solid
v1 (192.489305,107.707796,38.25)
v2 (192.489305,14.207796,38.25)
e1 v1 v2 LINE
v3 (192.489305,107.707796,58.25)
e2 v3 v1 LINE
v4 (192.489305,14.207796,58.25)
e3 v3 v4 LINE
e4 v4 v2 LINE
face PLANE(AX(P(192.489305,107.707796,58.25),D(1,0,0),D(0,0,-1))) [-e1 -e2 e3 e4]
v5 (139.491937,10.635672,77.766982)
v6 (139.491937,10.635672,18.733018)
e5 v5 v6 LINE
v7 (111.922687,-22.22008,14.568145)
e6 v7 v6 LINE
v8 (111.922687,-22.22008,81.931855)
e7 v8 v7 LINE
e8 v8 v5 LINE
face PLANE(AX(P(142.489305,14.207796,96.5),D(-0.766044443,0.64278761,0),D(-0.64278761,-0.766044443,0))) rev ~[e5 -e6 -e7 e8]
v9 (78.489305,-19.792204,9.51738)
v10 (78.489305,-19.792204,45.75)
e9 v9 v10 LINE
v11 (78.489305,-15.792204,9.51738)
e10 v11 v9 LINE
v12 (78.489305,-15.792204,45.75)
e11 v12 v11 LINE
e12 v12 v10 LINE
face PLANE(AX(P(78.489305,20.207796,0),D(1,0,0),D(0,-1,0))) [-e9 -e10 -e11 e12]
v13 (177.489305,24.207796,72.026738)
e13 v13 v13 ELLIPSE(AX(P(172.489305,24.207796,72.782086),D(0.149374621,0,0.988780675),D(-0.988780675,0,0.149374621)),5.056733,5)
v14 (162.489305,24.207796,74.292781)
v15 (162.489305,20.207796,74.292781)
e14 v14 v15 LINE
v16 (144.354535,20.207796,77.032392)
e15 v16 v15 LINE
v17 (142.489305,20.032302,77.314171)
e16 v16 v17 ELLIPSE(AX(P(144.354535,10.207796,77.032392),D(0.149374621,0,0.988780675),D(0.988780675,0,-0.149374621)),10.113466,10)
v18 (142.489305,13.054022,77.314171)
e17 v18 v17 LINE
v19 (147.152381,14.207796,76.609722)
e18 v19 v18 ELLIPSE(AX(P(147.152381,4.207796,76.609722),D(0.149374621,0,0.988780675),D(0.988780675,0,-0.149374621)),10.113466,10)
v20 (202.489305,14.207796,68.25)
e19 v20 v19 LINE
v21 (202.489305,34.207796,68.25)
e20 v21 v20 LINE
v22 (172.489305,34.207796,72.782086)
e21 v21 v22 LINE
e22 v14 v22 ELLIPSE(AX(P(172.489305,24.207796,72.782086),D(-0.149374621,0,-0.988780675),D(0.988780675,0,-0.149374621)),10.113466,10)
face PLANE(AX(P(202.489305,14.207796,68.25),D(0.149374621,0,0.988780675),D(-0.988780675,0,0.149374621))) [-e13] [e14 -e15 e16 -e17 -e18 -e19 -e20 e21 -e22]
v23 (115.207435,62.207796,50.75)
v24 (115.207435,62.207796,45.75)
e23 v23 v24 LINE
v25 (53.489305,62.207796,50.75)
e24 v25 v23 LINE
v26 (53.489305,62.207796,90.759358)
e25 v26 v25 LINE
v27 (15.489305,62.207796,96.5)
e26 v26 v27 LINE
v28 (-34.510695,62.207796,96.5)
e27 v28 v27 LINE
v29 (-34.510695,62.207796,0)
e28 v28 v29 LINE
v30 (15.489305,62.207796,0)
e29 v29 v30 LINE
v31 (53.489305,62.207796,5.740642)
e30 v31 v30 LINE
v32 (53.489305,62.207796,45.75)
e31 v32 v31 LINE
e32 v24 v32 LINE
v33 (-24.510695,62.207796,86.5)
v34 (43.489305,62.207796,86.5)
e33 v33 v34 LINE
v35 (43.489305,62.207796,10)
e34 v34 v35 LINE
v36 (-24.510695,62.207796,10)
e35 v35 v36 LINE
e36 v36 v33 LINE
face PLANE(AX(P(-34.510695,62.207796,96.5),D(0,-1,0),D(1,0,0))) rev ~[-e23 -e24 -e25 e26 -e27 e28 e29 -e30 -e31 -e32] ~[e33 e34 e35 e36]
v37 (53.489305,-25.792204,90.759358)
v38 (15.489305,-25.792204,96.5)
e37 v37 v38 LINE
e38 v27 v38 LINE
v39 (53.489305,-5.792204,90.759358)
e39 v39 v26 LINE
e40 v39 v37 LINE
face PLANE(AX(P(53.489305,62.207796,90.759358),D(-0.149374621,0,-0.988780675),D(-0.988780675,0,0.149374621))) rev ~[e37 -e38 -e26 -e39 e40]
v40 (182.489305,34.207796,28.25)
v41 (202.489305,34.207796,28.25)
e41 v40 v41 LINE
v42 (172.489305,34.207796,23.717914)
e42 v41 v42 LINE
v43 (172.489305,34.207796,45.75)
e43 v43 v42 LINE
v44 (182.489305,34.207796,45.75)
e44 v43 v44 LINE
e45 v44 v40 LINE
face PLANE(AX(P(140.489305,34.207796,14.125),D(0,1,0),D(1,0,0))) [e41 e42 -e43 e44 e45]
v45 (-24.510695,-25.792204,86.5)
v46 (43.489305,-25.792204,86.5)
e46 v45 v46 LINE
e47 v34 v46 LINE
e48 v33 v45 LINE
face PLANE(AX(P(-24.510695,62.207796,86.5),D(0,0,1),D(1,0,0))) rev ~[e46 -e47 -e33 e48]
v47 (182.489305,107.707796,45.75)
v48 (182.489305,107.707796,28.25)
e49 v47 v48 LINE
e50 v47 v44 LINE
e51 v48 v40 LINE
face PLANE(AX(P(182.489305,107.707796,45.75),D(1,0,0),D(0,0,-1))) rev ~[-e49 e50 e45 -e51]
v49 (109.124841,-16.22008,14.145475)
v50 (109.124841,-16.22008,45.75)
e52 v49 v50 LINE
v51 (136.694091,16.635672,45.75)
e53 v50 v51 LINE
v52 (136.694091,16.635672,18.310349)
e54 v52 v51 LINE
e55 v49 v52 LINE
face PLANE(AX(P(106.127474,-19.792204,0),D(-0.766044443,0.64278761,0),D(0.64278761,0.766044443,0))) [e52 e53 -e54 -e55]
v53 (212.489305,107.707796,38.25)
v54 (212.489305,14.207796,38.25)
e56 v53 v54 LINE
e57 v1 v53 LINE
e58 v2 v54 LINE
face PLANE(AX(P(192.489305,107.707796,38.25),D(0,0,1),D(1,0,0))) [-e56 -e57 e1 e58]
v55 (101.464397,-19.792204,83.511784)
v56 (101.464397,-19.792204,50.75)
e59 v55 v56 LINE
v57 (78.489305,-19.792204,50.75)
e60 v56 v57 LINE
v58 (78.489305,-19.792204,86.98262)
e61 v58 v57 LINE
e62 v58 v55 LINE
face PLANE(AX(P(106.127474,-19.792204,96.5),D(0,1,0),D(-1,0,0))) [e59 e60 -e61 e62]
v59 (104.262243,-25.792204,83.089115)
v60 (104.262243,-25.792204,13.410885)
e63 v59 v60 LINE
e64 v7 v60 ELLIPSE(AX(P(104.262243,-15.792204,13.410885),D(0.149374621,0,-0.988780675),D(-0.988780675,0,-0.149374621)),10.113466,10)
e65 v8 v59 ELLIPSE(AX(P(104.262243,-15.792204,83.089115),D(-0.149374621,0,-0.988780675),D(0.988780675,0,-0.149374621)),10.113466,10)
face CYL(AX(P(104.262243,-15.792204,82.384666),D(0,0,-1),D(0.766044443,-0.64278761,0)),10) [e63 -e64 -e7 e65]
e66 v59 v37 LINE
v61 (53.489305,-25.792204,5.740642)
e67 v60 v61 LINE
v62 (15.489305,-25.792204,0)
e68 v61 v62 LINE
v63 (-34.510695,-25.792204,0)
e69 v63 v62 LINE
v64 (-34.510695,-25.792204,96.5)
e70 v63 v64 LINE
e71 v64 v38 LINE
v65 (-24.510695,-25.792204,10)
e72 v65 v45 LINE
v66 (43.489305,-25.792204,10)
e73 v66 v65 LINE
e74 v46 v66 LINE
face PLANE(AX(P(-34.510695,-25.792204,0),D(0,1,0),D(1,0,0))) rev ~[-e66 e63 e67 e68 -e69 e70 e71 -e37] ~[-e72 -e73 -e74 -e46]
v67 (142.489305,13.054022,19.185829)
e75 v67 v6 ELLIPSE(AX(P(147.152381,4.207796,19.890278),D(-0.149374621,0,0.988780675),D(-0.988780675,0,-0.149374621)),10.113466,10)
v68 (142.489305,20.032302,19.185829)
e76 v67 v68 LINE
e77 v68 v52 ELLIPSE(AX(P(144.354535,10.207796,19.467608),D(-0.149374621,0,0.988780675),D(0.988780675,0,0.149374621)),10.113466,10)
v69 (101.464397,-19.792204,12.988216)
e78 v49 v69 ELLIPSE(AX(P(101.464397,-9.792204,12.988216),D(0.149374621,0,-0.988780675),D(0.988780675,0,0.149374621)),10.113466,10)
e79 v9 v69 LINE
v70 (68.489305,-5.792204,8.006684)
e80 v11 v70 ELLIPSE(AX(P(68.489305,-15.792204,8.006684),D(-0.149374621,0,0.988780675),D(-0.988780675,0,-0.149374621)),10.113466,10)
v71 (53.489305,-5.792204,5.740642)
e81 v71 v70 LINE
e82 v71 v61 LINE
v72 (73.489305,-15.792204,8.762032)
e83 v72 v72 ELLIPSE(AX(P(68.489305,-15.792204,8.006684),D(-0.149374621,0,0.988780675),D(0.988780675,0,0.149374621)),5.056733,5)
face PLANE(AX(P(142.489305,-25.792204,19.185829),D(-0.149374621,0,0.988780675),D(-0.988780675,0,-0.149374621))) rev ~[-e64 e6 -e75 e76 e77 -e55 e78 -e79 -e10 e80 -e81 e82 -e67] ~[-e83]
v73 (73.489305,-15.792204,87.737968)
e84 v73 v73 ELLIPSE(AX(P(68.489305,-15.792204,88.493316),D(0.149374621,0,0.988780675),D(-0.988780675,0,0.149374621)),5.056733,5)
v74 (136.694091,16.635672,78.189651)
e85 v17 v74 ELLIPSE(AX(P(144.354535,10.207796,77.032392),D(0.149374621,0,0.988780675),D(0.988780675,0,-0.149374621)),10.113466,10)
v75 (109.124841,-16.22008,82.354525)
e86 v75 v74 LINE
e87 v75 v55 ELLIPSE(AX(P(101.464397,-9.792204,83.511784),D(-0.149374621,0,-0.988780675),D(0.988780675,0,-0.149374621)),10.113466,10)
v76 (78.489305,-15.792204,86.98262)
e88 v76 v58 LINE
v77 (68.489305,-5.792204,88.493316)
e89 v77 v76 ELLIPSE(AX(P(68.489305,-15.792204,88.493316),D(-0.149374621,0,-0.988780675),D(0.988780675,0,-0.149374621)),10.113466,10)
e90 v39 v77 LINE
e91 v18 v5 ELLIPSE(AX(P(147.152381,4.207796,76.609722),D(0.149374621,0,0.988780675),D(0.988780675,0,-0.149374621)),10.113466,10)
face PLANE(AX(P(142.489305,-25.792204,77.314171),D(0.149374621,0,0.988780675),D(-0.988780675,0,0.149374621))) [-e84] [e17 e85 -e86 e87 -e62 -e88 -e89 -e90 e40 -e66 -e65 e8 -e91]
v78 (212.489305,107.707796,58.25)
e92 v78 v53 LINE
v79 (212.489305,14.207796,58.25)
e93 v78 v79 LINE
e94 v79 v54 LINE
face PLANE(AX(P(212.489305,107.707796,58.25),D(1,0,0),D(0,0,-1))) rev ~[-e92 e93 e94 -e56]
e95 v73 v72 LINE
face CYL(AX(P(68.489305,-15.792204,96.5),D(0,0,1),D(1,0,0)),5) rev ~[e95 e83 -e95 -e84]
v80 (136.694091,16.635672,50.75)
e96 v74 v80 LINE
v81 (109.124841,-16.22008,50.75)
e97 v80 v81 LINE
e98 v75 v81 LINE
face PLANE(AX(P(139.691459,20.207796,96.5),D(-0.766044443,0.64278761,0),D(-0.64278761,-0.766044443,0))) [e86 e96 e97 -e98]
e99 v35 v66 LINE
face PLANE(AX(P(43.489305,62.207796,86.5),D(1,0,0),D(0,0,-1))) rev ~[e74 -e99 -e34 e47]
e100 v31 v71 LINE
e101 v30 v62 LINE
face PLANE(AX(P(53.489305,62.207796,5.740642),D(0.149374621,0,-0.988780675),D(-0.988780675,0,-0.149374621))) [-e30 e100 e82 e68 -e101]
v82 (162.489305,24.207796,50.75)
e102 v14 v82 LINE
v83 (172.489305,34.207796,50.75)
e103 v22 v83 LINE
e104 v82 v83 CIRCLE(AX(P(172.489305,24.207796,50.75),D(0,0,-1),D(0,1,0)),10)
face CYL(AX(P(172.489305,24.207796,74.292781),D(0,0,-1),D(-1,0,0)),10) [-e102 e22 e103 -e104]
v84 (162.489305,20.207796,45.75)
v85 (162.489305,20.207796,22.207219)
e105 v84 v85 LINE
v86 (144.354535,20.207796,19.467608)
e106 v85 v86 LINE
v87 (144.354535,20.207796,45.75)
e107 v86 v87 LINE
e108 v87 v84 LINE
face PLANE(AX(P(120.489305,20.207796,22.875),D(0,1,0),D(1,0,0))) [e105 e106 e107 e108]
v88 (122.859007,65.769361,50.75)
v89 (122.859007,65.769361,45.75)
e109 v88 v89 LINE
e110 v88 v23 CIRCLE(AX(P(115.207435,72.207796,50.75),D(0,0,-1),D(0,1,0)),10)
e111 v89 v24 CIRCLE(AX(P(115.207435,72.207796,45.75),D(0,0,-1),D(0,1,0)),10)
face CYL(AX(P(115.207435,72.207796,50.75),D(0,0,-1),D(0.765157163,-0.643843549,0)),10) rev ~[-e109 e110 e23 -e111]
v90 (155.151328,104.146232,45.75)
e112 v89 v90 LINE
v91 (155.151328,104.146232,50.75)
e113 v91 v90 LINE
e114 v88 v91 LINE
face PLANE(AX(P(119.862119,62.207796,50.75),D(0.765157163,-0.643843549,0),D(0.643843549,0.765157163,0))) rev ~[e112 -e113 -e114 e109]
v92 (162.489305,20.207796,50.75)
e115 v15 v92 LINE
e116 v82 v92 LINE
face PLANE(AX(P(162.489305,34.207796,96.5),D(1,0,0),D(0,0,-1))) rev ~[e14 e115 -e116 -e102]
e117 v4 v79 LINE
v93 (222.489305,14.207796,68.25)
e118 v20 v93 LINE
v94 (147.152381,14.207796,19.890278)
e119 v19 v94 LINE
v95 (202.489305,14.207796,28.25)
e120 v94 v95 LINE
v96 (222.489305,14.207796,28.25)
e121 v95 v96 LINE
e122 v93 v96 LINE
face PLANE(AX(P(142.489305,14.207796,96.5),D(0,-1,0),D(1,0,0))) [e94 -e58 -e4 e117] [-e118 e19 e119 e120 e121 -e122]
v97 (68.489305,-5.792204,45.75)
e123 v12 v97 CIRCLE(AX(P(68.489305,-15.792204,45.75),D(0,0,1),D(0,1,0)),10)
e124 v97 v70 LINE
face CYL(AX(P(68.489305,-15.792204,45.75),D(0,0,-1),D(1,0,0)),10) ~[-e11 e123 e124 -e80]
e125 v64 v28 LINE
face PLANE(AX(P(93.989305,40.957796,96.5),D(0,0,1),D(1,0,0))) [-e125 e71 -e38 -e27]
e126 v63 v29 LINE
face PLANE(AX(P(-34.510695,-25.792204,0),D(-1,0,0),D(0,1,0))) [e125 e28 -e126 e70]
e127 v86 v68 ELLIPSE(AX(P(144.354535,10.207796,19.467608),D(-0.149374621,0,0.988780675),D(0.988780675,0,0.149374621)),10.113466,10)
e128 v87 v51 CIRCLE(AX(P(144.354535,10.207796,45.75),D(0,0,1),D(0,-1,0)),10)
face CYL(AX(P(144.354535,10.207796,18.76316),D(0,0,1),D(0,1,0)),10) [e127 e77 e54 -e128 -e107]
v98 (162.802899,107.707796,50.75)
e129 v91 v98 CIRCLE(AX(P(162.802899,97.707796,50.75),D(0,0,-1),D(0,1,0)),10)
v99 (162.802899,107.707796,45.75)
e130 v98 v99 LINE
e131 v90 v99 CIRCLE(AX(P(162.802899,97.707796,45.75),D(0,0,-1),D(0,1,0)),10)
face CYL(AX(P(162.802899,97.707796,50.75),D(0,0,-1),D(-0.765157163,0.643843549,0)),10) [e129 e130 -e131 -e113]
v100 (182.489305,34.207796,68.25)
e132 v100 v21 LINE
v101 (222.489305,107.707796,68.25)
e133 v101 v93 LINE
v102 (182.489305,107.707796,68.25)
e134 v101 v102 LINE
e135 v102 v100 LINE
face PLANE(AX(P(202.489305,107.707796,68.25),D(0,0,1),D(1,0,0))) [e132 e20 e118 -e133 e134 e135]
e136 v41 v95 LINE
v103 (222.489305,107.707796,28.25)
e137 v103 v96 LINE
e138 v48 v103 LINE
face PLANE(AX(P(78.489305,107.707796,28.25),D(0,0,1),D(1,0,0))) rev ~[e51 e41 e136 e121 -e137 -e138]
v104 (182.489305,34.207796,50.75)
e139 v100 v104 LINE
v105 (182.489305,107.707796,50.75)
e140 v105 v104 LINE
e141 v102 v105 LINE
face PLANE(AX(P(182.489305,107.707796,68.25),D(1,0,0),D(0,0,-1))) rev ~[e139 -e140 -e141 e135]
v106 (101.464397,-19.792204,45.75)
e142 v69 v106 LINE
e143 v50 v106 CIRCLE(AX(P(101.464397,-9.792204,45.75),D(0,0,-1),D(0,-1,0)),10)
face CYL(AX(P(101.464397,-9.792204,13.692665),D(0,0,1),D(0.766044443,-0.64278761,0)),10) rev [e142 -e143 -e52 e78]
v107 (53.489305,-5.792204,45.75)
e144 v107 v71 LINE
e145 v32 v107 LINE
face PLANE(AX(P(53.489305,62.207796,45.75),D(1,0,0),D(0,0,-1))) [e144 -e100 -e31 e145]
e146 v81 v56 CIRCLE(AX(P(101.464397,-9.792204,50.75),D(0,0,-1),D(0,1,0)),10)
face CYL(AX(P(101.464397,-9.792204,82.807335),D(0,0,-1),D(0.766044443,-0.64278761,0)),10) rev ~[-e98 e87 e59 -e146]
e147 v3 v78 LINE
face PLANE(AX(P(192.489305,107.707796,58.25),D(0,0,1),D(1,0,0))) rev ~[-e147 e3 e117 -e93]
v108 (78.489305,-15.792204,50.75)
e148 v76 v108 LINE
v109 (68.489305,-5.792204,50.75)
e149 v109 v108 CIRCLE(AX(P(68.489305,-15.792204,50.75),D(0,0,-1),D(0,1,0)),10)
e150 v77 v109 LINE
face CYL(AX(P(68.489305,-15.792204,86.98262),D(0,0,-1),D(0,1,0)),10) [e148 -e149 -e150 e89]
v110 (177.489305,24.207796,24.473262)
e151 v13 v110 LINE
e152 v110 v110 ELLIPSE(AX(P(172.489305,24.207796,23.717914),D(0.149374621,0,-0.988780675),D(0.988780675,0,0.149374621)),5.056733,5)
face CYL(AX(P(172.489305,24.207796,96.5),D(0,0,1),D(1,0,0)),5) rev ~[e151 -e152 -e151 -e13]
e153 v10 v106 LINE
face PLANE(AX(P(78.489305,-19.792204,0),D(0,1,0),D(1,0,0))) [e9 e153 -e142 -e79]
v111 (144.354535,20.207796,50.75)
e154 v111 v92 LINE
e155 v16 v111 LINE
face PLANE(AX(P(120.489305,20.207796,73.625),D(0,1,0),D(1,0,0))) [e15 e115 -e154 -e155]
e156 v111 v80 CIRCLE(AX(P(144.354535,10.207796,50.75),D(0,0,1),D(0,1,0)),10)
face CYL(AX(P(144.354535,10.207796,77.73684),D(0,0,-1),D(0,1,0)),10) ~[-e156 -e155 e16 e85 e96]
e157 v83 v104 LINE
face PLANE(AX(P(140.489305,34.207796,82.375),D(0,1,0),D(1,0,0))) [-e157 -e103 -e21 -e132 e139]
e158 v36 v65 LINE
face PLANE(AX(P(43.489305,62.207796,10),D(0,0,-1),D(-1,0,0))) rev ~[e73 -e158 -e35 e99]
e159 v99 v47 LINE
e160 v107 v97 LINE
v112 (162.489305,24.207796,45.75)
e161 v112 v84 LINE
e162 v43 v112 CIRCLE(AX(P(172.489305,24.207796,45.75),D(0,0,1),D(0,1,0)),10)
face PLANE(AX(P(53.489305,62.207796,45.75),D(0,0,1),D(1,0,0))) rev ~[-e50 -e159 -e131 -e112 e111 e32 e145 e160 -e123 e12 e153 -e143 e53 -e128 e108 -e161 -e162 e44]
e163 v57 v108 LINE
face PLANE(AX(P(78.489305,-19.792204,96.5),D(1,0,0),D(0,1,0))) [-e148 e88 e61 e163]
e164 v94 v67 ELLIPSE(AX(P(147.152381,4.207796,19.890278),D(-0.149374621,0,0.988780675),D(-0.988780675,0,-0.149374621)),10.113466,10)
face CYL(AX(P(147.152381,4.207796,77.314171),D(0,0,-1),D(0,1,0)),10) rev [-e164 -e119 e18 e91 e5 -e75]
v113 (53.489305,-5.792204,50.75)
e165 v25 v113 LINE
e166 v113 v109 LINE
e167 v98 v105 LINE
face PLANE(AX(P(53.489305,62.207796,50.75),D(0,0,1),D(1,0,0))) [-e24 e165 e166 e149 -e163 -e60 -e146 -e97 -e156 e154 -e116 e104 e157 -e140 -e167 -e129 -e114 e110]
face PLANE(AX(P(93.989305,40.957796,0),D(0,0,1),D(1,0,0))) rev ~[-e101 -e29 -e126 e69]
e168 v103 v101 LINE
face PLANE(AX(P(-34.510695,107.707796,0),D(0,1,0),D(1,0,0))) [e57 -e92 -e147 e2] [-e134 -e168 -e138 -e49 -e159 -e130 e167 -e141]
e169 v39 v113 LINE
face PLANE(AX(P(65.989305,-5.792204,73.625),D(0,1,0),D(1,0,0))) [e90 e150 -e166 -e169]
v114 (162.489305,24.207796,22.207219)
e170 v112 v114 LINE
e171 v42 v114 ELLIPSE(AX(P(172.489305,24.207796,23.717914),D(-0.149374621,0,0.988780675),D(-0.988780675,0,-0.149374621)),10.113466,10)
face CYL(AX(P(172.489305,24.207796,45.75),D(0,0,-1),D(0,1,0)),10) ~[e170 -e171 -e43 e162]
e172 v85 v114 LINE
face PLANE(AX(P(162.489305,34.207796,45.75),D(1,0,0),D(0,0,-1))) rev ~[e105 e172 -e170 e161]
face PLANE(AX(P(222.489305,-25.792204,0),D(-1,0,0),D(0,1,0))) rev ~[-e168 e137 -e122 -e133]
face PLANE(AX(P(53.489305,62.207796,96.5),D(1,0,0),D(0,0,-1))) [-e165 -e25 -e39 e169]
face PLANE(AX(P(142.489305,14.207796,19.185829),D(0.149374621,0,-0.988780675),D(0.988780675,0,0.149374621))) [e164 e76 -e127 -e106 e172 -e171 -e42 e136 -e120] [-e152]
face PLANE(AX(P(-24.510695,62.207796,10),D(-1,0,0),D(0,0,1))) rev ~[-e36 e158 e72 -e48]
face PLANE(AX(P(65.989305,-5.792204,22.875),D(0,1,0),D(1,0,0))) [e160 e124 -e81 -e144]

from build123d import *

# Parameters (mm, degrees)
SKETCH1_W           = 257
SKETCH1_H           = 133.5
BOSS_EXTRUDE1_DEPTH = 96.5
SKETCH2_W           = 113
SKETCH2_H           = 45.5
SKETCH2_W_2         = 80
SKETCH2_H_2         = 40
CUT_EXTRUDE1_DEPTH  = 96.5
CUT_EXTRUDE2_DEPTH  = 88
SKETCH6_W           = 20
SKETCH6_H           = 28.25
CUT_EXTRUDE3_DEPTH  = 93.5
SKETCH7_W           = 124
SKETCH7_H           = 28.25
CUT_EXTRUDE4_DEPTH  = 73.5
SKETCH8_W           = 104
SKETCH8_H           = 17.5
CUT_EXTRUDE5_DEPTH  = 73.5
SKETCH9_W           = 25
SKETCH9_H           = 45.75
CUT_EXTRUDE6_DEPTH  = 68
SKETCH11_W          = 84
SKETCH11_H          = 45.75
CUT_EXTRUDE7_DEPTH  = 14
SKETCH12_W          = 84
SKETCH12_H          = 45.75
CUT_EXTRUDE8_DEPTH  = 14
CUT_EXTRUDE10_DEPTH = 45.75
CUT_EXTRUDE11_DEPTH = 96.5
CUT_EXTRUDE12_DEPTH = 45.75
CUT_EXTRUDE13_DEPTH = 5
SKETCH18_R          = 5
CUT_EXTRUDE14_DEPTH = 96.5
SKETCH19_W          = 20
SKETCH19_H          = 20
CUT_EXTRUDE15_DEPTH = 93.5
CUT_EXTRUDE42_DEPTH = 88
CUT_EXTRUDE53_DEPTH = 20
CUT_EXTRUDE61_DEPTH = 50.68
CUT_EXTRUDE62_DEPTH = 88
CUT_EXTRUDE63_DEPTH = 88
CUT_EXTRUDE64_DEPTH = 88
FILLET2_R           = 10
FILLET3_R           = 10
FILLET4_R           = 10
FILLET5_R           = 10
FILLET6_R           = 10
FILLET7_R           = 10
FILLET8_R           = 10
FILLET9_R           = 10
FILLET10_R          = 10
FILLET11_R          = 10
FILLET12_R          = 10
FILLET13_R          = 10


with BuildPart() as part:
    # Sketch1 → Boss-Extrude1 (new body)
    with BuildSketch(Plane.XY):
        with Locations((93.989304803, 40.957796221)):
            Rectangle(SKETCH1_W, SKETCH1_H)
    extrude(amount=BOSS_EXTRUDE1_DEPTH)

    # Sketch2 → Cut-Extrude1 (cut)
    with BuildSketch(Plane.XY.offset(96.5)):
        with Locations((21.989304803, 84.957796221)):
            Rectangle(SKETCH2_W, SKETCH2_H)
        with Locations((182.489304803, -5.792203779)):
            Rectangle(SKETCH2_W_2, SKETCH2_H_2)
    extrude(amount=-CUT_EXTRUDE1_DEPTH, mode=Mode.SUBTRACT)

    # Sketch4 → Cut-Extrude2 (cut)
    with BuildSketch(Plane(origin=(0, 62.207796221, 0), x_dir=(1, 0, 0), z_dir=(0, 1, 0))):
        Polygon((-24.510695197, -10), (-24.510695197, -48.25), (-24.510695197, -86.5), (43.489304803, -86.5), (43.489304803, -48.25), (43.489304803, -10), align=None)
    extrude(amount=-CUT_EXTRUDE2_DEPTH, mode=Mode.SUBTRACT)

    # Sketch6 → Cut-Extrude3 (cut)
    with BuildSketch(Plane(origin=(0, 107.707796221, 0), x_dir=(1, 0, 0), z_dir=(0, 1, 0))):
        with Locations((212.489304803, -14.125)):
            Rectangle(SKETCH6_W, SKETCH6_H)
        with Locations((212.489304803, -82.375)):
            Rectangle(SKETCH6_W, SKETCH6_H)
    extrude(amount=-CUT_EXTRUDE3_DEPTH, mode=Mode.SUBTRACT)

    # Sketch7 → Cut-Extrude4 (cut)
    with BuildSketch(Plane(origin=(0, 107.707796221, 0), x_dir=(1, 0, 0), z_dir=(0, 1, 0))):
        with Locations((140.489304803, -14.125)):
            Rectangle(SKETCH7_W, SKETCH7_H)
        with Locations((140.489304803, -82.375)):
            Rectangle(SKETCH7_W, SKETCH7_H)
    extrude(amount=-CUT_EXTRUDE4_DEPTH, mode=Mode.SUBTRACT)

    # Sketch8 → Cut-Extrude5 (cut)
    with BuildSketch(Plane(origin=(0, 107.707796221, 0), x_dir=(1, 0, 0), z_dir=(0, 1, 0))):
        with Locations((130.489304803, -37)):
            Rectangle(SKETCH8_W, SKETCH8_H)
        with Locations((130.489304803, -59.5)):
            Rectangle(SKETCH8_W, SKETCH8_H)
    extrude(amount=-CUT_EXTRUDE5_DEPTH, mode=Mode.SUBTRACT)

    # Sketch9 → Cut-Extrude6 (cut)
    with BuildSketch(Plane(origin=(0, 62.207796221, 0), x_dir=(1, 0, 0), z_dir=(0, 1, 0))):
        with Locations((65.989304803, -73.625)):
            Rectangle(SKETCH9_W, SKETCH9_H)
        with Locations((65.989304803, -22.875)):
            Rectangle(SKETCH9_W, SKETCH9_H)
    extrude(amount=-CUT_EXTRUDE6_DEPTH, mode=Mode.SUBTRACT)

    # Sketch11 → Cut-Extrude7 (cut)
    with BuildSketch(Plane(origin=(0, 34.207796221, 0), x_dir=(1, 0, 0), z_dir=(0, 1, 0))):
        with Locations((120.489304803, -73.625)):
            Rectangle(SKETCH11_W, SKETCH11_H)
    extrude(amount=-CUT_EXTRUDE7_DEPTH, mode=Mode.SUBTRACT)

    # Sketch12 → Cut-Extrude8 (cut)
    with BuildSketch(Plane(origin=(0, 34.207796221, 0), x_dir=(1, 0, 0), z_dir=(0, 1, 0))):
        with Locations((120.489304803, -22.875)):
            Rectangle(SKETCH12_W, SKETCH12_H)
    extrude(amount=-CUT_EXTRUDE8_DEPTH, mode=Mode.SUBTRACT)

    # Sketch13 → Cut-Extrude10 (cut)
    with BuildSketch(Plane.XY.offset(96.5)):
        Polygon((139.691458854, 20.207796221), (106.127473607, -19.792203779), (78.489304803, -19.792203779), (78.489304803, 20.207796221), align=None)
    extrude(amount=-CUT_EXTRUDE10_DEPTH, mode=Mode.SUBTRACT)

    # Sketch15 → Cut-Extrude11 (cut)
    with BuildSketch(Plane.XY.offset(96.5)):
        Polygon((142.489304803, 14.207796221), (108.925319556, -25.792203779), (142.489304803, -25.792203779), align=None)
    extrude(amount=-CUT_EXTRUDE11_DEPTH, mode=Mode.SUBTRACT)

    # Sketch16 → Cut-Extrude12 (cut)
    with BuildSketch(Plane(origin=(0, 0, 0), x_dir=(-1, 0, 0), z_dir=(0, 0, -1))):
        Polygon((-78.489304803, -19.792203779), (-106.127473607, -19.792203779), (-139.691458854, 20.207796221), (-78.489304803, 20.207796221), align=None)
    extrude(amount=-CUT_EXTRUDE12_DEPTH, mode=Mode.SUBTRACT)

    # Sketch17 → Cut-Extrude13 (cut)
    with BuildSketch(Plane.XY.offset(50.75)):
        Polygon((78.489304803, 62.207796221), (119.862118509, 62.207796221), (158.148215693, 107.707796221), (78.489304803, 107.707796221), align=None)
    extrude(amount=-CUT_EXTRUDE13_DEPTH, mode=Mode.SUBTRACT)

    # Sketch18 → Cut-Extrude14 (cut)
    with BuildSketch(Plane.XY.offset(96.5)):
        with Locations((172.489304803, 24.207796221)):
            Circle(SKETCH18_R)
        with Locations((68.489304803, -15.792203779)):
            Circle(SKETCH18_R)
    extrude(amount=-CUT_EXTRUDE14_DEPTH, mode=Mode.SUBTRACT)

    # Sketch19 → Cut-Extrude15 (cut)
    with BuildSketch(Plane(origin=(0, 107.707796221, 0), x_dir=(1, 0, 0), z_dir=(0, 1, 0))):
        with Locations((202.489304803, -48.25)):
            Rectangle(SKETCH19_W, SKETCH19_H)
    extrude(amount=-CUT_EXTRUDE15_DEPTH, mode=Mode.SUBTRACT)

    # Sketch51 → Cut-Extrude42 (cut)
    with BuildSketch(Plane(origin=(0, 62.207796221, 0), x_dir=(1, 0, 0), z_dir=(0, 1, 0))):
        Polygon((15.489304803, -96.5), (53.489304803, -96.5), (53.489304803, -90.759358289), align=None)
    extrude(amount=-CUT_EXTRUDE42_DEPTH, mode=Mode.SUBTRACT)

    # Sketch62 → Cut-Extrude53 (cut)
    with BuildSketch(Plane.XZ.offset(-14.207796221)):
        Polygon((142.489304803, 96.5), (202.489304803, 96.5), (202.489304803, 68.25), (142.489304803, 77.314171123), align=None)
    extrude(amount=-CUT_EXTRUDE53_DEPTH, mode=Mode.SUBTRACT)

    # Sketch75 → Cut-Extrude61 (cut)
    with BuildSketch(Plane.XZ.offset(25.792203779)):
        Polygon((142.489304803, 77.314171123), (53.489304803, 90.759358289), (53.489304803, 96.5), (142.489304803, 96.5), align=None)
    extrude(amount=-CUT_EXTRUDE61_DEPTH, mode=Mode.SUBTRACT)

    # Sketch79 → Cut-Extrude62 (cut)
    with BuildSketch(Plane(origin=(0, 62.207796221, 0), x_dir=(1, 0, 0), z_dir=(0, 1, 0))):
        Polygon((15.489304803, 0), (53.489304803, 0), (53.489304803, -5.740641711), align=None)
    extrude(amount=-CUT_EXTRUDE62_DEPTH, mode=Mode.SUBTRACT)

    # Sketch80 → Cut-Extrude63 (cut)
    with BuildSketch(Plane.XZ.offset(25.792203779)):
        Polygon((53.489304803, 5.740641711), (53.489304803, 0), (142.489304803, 0), (142.489304803, 19.185828877), align=None)
    extrude(amount=-CUT_EXTRUDE63_DEPTH, mode=Mode.SUBTRACT)

    # Sketch81 → Cut-Extrude64 (cut)
    with BuildSketch(Plane.XZ.offset(-14.207796221)):
        Polygon((142.489304803, 19.185828877), (202.489304803, 28.25), (202.489304803, 0), (142.489304803, 0), align=None)
    extrude(amount=-CUT_EXTRUDE64_DEPTH, mode=Mode.SUBTRACT)

    # Fillet2
    fillet2_edges = [part.edges().sort_by_distance(p)[0] for p in [
        (162.489304803, 34.207796221, 62.521390374),
    ]]
    fillet(fillet2_edges, radius=FILLET2_R)

    # Fillet3
    fillet3_edges = [part.edges().sort_by_distance(p)[0] for p in [
        (162.489304803, 34.207796221, 33.978609626),
    ]]
    fillet(fillet3_edges, radius=FILLET3_R)

    # Fillet4
    fillet4_edges = [part.edges().sort_by_distance(p)[0] for p in [
        (139.691458854, 20.207796221, 32.256579818),
    ]]
    fillet(fillet4_edges, radius=FILLET4_R)

    # Fillet5
    fillet5_edges = [part.edges().sort_by_distance(p)[0] for p in [
        (139.691458854, 20.207796221, 64.243420182),
    ]]
    fillet(fillet5_edges, radius=FILLET5_R)

    # Fillet6
    fillet6_edges = [part.edges().sort_by_distance(p)[0] for p in [
        (106.127473607, -19.792203779, 66.778667731),
    ]]
    fillet(fillet6_edges, radius=FILLET6_R)

    # Fillet7
    fillet7_edges = [part.edges().sort_by_distance(p)[0] for p in [
        (106.127473607, -19.792203779, 29.721332269),
    ]]
    fillet(fillet7_edges, radius=FILLET7_R)

    # Fillet8
    fillet8_edges = [part.edges().sort_by_distance(p)[0] for p in [
        (78.489304803, -5.792203779, 68.86631016),
    ]]
    fillet(fillet8_edges, radius=FILLET8_R)

    # Fillet9
    fillet9_edges = [part.edges().sort_by_distance(p)[0] for p in [
        (78.489304803, -5.792203779, 27.63368984),
    ]]
    fillet(fillet9_edges, radius=FILLET9_R)

    # Fillet10
    fillet10_edges = [part.edges().sort_by_distance(p)[0] for p in [
        (158.148215693, 107.707796221, 48.25),
    ]]
    fillet(fillet10_edges, radius=FILLET10_R)

    # Fillet11
    fillet11_edges = [part.edges().sort_by_distance(p)[0] for p in [
        (119.862118509, 62.207796221, 48.25),
    ]]
    fillet(fillet11_edges, radius=FILLET11_R)

    # Fillet12
    fillet12_edges = [part.edges().sort_by_distance(p)[0] for p in [
        (142.489304803, 14.207796221, 48.25),
    ]]
    fillet(fillet12_edges, radius=FILLET12_R)

    # Fillet13
    fillet13_edges = [part.edges().sort_by_distance(p)[0] for p in [
        (108.925319556, -25.792203779, 48.25),
    ]]
    fillet(fillet13_edges, radius=FILLET13_R)


solid = part.part
